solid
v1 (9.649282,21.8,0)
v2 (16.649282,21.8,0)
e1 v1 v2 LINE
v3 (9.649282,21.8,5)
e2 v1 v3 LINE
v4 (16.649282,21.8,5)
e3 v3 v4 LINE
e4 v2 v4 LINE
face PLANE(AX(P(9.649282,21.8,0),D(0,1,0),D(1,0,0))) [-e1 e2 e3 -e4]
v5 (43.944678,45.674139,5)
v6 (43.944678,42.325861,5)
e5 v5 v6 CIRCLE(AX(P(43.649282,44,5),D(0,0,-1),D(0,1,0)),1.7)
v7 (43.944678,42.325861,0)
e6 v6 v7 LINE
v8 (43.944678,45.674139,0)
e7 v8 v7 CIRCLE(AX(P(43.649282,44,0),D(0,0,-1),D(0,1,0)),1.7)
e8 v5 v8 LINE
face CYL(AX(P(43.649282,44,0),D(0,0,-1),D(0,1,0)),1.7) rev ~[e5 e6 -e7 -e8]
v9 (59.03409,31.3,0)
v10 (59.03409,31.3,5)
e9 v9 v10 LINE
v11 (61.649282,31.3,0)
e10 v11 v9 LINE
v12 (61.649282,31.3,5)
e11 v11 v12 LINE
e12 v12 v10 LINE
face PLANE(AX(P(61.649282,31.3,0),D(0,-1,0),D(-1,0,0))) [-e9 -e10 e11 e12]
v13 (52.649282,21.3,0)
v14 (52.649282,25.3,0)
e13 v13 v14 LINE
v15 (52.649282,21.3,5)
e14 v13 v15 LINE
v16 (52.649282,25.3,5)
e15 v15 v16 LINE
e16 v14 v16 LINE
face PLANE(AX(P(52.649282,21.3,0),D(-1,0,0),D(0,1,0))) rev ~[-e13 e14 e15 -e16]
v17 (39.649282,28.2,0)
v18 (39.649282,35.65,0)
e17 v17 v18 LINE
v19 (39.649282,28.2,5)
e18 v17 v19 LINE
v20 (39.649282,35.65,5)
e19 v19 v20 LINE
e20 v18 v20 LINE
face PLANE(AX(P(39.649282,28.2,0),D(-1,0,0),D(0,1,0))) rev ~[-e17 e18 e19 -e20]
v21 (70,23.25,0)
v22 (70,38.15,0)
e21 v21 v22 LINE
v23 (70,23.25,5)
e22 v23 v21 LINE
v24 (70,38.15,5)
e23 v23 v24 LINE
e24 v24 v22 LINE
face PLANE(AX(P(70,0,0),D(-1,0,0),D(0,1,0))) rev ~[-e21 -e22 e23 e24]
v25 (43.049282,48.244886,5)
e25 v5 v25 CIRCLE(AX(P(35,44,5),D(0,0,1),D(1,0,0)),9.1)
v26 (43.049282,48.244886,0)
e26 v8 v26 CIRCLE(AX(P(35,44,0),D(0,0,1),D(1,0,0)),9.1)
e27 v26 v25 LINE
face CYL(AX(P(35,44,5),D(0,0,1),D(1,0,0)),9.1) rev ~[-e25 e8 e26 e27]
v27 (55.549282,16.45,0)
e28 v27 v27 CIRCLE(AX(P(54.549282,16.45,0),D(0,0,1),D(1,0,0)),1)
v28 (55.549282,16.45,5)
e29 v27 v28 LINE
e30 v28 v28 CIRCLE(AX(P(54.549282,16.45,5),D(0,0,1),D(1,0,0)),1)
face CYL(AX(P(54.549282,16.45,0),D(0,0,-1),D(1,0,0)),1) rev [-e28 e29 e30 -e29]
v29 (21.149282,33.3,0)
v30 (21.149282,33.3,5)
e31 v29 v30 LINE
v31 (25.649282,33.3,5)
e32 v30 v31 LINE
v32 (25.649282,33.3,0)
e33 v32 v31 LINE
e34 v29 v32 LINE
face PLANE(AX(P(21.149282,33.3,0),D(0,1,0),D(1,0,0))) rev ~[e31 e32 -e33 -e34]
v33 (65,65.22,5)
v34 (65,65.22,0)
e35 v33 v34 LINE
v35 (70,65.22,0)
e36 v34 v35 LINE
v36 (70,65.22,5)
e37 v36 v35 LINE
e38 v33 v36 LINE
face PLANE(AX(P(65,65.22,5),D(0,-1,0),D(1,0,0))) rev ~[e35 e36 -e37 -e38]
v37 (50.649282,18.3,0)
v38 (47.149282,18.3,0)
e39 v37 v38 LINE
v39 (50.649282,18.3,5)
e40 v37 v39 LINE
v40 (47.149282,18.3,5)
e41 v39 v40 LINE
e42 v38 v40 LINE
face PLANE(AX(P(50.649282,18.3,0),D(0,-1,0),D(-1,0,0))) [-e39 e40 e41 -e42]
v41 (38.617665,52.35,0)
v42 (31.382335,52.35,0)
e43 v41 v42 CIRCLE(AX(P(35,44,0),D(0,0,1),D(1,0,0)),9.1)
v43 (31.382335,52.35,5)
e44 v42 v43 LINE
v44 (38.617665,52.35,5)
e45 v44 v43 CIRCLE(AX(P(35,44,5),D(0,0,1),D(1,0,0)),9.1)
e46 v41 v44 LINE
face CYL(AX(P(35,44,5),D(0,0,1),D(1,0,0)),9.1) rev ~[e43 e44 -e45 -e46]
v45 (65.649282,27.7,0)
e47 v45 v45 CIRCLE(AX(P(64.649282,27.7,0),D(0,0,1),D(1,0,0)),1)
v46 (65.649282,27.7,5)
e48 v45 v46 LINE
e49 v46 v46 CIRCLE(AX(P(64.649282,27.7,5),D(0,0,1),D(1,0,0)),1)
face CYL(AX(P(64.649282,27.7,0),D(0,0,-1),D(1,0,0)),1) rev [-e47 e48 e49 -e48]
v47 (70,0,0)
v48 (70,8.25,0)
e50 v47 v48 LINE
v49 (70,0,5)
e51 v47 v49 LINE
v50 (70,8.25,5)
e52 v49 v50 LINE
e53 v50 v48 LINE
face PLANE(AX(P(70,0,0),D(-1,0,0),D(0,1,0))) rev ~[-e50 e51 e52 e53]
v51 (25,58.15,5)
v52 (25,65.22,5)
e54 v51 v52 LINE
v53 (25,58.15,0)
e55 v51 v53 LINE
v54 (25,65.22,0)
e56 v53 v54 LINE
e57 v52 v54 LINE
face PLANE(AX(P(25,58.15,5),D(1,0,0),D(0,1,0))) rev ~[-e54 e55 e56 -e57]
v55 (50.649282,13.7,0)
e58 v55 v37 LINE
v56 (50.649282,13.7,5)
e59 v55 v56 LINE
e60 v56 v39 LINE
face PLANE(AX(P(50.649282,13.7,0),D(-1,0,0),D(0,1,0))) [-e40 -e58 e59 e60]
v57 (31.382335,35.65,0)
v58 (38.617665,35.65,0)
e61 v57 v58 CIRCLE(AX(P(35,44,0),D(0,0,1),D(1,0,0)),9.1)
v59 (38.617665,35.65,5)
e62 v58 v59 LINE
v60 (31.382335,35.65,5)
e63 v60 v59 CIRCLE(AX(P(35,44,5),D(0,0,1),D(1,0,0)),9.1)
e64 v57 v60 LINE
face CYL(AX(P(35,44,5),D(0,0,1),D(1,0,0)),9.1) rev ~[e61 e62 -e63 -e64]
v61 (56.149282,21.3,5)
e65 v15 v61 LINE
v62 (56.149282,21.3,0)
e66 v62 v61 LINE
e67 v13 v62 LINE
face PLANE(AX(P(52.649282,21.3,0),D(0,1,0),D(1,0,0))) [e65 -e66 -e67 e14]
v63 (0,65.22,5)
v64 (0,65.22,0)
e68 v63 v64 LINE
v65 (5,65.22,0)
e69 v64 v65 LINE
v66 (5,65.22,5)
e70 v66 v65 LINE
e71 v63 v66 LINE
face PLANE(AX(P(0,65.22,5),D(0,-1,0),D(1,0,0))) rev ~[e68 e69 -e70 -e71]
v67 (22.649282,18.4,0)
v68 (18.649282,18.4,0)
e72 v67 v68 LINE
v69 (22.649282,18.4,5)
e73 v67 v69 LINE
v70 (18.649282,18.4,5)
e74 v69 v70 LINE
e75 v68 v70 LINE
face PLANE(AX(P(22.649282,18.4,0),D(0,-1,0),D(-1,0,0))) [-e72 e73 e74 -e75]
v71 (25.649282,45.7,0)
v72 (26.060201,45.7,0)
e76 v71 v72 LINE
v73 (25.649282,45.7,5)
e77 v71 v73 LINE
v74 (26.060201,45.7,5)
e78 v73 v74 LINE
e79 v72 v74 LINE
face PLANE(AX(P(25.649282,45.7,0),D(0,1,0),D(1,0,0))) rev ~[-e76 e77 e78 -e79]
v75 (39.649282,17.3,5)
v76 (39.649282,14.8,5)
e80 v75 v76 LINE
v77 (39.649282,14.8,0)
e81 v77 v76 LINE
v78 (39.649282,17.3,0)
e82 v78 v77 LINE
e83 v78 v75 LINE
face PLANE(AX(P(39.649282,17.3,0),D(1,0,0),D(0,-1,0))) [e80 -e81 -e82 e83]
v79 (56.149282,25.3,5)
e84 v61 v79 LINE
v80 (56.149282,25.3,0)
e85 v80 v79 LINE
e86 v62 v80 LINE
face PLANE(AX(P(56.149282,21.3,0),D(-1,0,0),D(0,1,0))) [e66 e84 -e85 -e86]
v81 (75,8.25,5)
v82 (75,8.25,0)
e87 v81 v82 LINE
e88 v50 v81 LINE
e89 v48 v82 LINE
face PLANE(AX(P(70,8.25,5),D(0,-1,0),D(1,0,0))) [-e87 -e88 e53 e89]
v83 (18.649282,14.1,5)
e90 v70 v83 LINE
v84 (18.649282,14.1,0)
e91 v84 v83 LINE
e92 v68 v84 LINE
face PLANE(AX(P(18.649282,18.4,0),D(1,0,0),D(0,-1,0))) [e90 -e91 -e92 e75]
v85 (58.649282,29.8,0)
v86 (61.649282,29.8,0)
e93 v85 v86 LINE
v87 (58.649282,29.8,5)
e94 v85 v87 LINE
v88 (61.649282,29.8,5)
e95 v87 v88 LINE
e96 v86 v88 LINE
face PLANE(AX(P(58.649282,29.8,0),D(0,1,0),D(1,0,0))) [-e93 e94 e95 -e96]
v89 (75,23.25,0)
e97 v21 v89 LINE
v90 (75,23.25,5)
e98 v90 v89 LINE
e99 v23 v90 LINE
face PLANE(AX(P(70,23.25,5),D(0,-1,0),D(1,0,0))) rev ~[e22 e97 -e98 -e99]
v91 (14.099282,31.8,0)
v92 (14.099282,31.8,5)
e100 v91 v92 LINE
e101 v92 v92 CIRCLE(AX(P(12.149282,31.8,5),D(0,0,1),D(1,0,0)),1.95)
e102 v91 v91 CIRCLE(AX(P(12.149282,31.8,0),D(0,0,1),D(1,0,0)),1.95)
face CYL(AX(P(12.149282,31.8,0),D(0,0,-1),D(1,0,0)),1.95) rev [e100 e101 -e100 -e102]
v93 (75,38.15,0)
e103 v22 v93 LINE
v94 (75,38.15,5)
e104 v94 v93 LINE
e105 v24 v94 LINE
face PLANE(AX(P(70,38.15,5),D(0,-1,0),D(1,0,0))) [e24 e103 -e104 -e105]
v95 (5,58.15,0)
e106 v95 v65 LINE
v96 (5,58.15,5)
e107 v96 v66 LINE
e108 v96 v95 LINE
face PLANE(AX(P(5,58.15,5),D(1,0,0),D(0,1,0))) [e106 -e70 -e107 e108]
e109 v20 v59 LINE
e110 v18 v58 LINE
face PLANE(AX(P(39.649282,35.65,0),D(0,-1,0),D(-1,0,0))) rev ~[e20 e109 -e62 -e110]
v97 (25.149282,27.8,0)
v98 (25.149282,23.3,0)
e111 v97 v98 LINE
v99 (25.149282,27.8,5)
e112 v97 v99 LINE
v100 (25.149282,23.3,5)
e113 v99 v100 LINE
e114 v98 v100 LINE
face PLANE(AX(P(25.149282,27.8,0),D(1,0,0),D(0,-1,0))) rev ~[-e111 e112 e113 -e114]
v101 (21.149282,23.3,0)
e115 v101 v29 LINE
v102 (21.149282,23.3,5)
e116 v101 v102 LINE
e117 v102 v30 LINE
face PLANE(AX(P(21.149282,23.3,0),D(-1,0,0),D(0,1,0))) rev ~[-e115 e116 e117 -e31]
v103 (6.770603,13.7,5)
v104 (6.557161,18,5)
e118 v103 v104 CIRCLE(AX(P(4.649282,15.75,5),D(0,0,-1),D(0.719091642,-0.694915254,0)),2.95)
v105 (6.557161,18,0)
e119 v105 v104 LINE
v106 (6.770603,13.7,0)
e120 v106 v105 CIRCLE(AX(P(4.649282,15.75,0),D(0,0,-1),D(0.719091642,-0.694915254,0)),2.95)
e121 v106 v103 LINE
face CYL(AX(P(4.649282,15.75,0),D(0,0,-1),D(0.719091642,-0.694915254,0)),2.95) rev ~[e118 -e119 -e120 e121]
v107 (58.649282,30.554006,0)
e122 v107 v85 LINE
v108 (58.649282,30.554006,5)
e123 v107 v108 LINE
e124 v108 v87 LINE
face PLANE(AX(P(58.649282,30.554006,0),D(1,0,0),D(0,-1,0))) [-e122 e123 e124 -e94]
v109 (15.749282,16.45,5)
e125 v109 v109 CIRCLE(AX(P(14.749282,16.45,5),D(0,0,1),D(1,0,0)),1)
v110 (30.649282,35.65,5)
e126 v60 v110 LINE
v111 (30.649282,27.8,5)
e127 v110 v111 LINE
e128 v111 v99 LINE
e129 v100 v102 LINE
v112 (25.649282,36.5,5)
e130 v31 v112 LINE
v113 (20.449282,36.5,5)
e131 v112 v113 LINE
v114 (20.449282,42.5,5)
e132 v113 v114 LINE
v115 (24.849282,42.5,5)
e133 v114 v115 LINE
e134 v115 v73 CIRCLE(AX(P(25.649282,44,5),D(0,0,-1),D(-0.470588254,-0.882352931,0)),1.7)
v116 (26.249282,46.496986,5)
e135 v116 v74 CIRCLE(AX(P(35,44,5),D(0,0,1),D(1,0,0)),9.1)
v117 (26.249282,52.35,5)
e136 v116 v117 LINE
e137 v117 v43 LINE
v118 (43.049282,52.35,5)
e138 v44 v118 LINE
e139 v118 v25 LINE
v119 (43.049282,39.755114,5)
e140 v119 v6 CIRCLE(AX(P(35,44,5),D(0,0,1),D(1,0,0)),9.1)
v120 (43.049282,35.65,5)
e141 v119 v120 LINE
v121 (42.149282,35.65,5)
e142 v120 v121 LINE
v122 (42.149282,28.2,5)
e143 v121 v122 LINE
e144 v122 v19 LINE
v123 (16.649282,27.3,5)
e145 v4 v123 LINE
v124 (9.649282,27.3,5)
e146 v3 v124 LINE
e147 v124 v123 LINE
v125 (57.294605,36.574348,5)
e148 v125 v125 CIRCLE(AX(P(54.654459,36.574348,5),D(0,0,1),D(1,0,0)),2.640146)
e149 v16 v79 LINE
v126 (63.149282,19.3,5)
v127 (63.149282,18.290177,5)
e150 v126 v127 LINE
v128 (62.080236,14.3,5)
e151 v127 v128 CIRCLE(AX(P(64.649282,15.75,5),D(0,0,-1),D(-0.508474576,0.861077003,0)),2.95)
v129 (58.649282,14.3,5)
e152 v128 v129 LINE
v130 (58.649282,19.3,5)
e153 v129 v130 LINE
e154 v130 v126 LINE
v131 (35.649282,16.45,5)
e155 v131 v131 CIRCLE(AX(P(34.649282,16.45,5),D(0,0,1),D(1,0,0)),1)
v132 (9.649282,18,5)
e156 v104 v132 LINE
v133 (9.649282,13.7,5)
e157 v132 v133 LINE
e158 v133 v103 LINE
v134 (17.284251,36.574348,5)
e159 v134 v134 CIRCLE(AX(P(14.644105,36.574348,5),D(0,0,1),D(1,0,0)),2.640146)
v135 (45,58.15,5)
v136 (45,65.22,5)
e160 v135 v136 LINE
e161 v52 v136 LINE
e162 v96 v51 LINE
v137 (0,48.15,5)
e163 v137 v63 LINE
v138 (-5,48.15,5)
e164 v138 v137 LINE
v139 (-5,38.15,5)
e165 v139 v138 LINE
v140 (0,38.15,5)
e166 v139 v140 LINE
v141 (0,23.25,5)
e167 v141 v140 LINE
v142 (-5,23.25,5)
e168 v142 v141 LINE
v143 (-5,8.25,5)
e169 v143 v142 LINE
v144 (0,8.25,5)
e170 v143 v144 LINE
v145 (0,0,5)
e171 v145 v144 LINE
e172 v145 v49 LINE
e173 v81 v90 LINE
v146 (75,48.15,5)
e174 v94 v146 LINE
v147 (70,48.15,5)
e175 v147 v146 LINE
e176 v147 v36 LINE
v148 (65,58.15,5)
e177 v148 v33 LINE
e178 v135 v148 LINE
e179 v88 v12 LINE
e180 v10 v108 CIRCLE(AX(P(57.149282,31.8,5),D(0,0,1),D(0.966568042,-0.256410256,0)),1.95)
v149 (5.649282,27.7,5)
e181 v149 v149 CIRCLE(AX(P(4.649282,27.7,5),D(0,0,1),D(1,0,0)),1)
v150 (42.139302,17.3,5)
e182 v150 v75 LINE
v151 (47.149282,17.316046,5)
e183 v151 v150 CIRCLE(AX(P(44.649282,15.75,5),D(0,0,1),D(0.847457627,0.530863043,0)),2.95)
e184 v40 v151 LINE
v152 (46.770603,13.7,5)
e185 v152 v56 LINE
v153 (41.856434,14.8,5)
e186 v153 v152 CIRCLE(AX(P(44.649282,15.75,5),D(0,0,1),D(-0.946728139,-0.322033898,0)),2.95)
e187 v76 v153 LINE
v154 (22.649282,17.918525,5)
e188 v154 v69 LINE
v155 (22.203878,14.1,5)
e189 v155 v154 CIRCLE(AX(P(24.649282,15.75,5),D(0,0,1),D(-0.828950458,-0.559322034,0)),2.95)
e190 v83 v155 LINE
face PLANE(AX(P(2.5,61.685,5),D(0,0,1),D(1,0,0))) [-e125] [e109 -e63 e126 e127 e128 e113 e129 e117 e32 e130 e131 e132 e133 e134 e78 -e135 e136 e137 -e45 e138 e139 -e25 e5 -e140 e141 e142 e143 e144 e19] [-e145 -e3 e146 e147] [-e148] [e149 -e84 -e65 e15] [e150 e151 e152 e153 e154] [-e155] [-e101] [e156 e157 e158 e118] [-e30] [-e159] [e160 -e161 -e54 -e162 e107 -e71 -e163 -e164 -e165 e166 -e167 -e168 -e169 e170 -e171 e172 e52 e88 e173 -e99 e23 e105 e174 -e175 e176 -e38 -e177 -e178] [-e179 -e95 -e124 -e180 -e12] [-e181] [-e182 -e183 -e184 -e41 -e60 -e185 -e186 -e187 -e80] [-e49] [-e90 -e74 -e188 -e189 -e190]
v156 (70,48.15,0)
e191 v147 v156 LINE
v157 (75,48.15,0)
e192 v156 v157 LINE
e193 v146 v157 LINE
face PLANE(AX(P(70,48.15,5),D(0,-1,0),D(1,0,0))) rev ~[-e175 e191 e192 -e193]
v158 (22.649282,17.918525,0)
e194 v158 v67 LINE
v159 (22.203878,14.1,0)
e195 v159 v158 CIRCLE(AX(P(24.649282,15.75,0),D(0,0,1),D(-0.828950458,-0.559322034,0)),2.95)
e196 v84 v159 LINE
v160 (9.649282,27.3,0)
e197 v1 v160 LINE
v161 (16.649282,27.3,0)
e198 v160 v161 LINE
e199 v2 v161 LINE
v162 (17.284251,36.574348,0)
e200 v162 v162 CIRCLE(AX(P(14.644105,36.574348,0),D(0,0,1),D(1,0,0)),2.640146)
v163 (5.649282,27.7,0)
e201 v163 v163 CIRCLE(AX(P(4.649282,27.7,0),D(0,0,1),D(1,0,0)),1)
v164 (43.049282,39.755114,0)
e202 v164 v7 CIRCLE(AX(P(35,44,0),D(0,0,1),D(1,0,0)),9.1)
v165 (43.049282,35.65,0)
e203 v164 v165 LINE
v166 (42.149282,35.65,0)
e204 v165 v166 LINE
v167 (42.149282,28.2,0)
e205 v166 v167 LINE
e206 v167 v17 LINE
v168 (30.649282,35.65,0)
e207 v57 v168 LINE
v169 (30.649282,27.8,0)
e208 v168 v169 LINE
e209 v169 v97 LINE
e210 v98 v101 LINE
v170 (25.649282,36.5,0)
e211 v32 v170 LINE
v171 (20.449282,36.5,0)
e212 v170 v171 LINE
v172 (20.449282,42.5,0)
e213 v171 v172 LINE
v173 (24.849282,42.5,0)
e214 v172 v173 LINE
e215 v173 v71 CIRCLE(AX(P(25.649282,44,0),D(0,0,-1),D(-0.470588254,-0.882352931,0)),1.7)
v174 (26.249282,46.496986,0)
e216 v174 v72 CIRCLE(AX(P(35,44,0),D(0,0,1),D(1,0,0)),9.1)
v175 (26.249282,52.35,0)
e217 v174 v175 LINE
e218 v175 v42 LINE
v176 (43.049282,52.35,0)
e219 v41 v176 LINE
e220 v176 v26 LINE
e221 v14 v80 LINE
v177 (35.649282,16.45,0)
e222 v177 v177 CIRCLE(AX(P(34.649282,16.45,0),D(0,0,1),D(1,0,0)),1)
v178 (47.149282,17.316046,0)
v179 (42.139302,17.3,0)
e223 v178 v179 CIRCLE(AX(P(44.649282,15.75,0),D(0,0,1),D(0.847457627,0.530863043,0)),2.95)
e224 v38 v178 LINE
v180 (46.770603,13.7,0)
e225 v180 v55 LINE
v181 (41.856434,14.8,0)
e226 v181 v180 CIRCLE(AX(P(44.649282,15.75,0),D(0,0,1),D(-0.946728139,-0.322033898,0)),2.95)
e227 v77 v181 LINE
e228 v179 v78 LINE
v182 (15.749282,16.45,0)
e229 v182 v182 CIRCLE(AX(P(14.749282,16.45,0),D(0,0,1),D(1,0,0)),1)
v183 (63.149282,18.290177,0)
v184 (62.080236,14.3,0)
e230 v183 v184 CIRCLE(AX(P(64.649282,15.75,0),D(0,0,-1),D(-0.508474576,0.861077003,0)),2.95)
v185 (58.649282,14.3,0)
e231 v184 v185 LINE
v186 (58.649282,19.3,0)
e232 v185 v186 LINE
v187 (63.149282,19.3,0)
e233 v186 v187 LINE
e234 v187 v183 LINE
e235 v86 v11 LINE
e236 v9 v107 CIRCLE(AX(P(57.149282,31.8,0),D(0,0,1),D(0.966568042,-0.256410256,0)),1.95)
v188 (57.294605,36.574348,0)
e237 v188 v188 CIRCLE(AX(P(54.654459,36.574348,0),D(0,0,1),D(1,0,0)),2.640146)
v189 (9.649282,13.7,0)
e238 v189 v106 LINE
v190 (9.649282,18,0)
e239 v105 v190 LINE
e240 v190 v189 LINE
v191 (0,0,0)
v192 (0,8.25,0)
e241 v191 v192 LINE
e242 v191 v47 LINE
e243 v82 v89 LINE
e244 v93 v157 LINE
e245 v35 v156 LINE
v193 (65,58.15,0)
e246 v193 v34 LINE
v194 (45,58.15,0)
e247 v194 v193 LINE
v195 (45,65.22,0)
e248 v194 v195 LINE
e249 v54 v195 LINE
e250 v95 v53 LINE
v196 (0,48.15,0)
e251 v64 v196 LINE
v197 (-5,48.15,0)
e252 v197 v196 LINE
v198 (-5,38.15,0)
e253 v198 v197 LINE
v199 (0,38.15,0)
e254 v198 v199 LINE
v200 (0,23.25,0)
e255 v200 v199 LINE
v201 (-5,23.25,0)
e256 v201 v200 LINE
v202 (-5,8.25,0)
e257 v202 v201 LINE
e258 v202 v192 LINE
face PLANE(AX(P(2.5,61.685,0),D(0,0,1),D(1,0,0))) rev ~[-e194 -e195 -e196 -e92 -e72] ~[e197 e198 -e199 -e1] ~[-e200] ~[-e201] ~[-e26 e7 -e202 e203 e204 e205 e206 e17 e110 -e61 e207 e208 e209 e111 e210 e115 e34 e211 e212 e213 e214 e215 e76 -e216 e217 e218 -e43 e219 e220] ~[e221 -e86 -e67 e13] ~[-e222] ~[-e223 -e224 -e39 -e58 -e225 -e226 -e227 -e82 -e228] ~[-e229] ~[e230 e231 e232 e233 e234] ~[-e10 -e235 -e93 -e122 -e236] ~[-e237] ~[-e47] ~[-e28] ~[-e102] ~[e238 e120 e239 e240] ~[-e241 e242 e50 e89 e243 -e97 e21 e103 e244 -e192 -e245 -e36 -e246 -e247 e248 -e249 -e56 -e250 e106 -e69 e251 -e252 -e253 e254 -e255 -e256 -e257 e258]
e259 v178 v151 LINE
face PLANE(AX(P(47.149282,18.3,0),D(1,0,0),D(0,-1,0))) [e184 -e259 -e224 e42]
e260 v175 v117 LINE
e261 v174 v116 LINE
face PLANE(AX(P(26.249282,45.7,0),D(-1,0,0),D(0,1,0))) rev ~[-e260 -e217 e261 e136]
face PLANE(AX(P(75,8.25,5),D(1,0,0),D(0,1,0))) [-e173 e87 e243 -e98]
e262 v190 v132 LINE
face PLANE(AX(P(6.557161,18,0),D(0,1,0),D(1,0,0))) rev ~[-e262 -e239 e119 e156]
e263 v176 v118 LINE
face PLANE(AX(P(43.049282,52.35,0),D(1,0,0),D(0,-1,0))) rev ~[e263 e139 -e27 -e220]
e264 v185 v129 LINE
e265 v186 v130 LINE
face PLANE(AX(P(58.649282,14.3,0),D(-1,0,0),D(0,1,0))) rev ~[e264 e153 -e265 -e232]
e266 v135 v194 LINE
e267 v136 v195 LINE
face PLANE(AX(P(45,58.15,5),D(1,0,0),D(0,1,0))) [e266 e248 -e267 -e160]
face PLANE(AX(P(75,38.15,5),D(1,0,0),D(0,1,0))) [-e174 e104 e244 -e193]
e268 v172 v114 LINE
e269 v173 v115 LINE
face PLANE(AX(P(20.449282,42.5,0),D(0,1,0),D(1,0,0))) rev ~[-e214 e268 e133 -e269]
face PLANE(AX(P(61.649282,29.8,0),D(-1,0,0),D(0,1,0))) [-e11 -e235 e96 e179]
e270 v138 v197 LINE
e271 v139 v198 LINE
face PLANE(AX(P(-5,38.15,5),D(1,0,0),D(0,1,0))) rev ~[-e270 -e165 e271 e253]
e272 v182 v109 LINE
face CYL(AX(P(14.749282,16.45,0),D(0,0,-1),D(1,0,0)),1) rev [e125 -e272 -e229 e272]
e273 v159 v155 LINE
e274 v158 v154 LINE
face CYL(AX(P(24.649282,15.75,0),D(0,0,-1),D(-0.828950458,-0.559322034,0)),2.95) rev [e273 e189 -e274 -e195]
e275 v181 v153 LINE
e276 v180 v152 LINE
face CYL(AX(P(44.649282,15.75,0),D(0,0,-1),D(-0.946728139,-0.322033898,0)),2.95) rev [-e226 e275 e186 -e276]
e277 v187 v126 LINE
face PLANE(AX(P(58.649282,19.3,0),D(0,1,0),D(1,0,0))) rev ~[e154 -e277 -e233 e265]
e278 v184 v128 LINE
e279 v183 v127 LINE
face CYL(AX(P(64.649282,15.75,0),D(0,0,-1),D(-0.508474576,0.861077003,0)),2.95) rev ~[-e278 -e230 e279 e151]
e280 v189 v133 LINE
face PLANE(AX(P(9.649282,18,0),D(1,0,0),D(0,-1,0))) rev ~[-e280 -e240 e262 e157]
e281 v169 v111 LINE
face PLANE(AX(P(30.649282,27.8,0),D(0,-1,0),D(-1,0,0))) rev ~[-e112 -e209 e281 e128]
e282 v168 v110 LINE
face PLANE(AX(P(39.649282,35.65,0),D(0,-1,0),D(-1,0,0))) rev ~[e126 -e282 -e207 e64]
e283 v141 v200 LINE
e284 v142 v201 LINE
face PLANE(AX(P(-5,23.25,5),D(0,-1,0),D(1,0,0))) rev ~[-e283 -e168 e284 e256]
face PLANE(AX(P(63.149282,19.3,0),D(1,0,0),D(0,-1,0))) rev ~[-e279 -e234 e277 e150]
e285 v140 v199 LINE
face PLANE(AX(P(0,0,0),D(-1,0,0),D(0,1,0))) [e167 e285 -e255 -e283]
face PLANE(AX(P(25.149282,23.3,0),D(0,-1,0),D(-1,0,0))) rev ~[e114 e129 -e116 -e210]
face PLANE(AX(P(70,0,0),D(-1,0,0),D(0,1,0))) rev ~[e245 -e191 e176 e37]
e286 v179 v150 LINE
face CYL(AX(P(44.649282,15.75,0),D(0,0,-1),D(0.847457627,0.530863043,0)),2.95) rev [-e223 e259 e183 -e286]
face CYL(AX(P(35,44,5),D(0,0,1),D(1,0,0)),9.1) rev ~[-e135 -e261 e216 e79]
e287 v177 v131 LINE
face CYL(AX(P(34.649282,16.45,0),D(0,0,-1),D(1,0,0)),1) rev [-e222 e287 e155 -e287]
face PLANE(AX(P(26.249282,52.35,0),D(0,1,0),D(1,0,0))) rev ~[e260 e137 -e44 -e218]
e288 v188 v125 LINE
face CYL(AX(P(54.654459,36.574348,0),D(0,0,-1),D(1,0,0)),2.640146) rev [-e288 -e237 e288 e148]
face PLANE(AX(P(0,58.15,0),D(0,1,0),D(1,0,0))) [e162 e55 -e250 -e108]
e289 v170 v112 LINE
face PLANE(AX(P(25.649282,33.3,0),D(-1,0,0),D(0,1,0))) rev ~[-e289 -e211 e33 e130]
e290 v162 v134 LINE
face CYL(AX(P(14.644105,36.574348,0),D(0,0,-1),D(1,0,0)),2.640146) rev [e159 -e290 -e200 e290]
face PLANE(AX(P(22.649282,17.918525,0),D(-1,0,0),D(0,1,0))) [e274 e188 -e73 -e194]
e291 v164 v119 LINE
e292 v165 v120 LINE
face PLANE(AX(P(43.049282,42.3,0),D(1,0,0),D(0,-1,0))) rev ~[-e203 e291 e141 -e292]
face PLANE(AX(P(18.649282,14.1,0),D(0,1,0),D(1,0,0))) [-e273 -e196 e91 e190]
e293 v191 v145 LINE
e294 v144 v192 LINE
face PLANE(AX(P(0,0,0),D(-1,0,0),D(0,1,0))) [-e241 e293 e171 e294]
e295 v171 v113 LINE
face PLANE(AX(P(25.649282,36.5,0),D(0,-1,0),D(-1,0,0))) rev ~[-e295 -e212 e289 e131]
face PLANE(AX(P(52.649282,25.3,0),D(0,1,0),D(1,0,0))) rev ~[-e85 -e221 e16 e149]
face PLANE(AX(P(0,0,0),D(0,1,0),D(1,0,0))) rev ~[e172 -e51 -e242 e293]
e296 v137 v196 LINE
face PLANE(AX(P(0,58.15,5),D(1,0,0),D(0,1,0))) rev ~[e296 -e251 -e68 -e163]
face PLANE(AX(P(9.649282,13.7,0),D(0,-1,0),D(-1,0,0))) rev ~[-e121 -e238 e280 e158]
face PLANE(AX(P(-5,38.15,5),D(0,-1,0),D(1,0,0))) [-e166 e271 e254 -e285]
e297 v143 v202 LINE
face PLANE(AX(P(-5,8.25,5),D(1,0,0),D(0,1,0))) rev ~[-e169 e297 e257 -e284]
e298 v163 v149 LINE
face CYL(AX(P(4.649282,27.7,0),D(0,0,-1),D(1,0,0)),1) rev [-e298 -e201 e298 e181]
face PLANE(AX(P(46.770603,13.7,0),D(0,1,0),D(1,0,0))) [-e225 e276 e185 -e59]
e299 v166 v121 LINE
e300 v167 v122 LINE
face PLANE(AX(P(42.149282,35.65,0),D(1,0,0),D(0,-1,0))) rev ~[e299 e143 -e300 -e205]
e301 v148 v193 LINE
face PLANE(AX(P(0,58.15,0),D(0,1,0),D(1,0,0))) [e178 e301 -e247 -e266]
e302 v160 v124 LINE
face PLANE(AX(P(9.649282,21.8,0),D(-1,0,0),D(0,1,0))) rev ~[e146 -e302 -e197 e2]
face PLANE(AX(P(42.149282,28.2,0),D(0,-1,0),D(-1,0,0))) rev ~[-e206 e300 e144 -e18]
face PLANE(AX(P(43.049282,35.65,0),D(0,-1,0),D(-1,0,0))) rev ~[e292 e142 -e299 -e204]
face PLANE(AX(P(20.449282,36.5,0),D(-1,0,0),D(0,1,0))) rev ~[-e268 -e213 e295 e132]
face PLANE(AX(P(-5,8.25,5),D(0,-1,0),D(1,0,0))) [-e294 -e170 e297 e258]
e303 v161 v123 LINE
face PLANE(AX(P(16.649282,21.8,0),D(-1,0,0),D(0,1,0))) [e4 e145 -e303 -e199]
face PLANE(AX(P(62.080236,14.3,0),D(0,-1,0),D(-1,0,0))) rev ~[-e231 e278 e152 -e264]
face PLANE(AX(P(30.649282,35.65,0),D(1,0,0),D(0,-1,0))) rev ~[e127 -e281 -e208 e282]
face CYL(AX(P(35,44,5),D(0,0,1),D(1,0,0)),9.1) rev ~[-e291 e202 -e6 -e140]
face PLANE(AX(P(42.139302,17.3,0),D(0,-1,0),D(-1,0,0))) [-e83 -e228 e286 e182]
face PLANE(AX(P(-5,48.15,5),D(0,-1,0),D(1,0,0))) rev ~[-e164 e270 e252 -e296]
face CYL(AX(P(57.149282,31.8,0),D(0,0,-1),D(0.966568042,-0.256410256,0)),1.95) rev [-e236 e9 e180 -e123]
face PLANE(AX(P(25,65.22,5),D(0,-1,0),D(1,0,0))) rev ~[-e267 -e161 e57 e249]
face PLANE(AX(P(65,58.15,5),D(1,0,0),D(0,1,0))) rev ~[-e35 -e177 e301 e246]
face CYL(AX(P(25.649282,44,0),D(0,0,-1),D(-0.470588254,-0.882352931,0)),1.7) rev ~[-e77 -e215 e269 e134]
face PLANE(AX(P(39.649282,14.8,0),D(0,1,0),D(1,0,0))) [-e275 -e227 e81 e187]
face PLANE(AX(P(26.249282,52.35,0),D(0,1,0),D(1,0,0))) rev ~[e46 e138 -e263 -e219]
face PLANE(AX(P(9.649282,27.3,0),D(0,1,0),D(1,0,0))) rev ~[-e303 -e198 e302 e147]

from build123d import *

# Parameters (mm, degrees)
ESQUISSE1_W        = 70
ESQUISSE1_H        = 58.15
ESQUISSE1_R        = 1.95
ESQUISSE1_R_2      = 1
ESQUISSE1_R_3      = 2.640146182
ESQUISSE1_W_2      = 7
ESQUISSE1_H_2      = 5.5
ESQUISSE1_W_3      = 3.5
ESQUISSE1_H_3      = 4
BOSS_EXTRU_1_DEPTH = 5
ESQUISSE2_R        = 9.1
CR_NEAUX_DEPTH     = 5
ESQUISSE3_W        = 20
ESQUISSE3_H        = 7.07
ESQUISSE3_W_2      = 5
ESQUISSE3_H_2      = 15
ESQUISSE3_H_3      = 10
CR_NEAUX_2_DEPTH   = 5


with BuildPart() as part:
    # Esquisse1 → Boss.-Extru.1 (new body)
    with BuildSketch(Plane.XY):
        with Locations((35, 29.075)):
            Rectangle(ESQUISSE1_W, ESQUISSE1_H)
        with Locations((12.149282213, 31.8)):
            Circle(ESQUISSE1_R, mode=Mode.SUBTRACT)
        with Locations((4.649282213, 27.7)):
            Circle(ESQUISSE1_R_2, mode=Mode.SUBTRACT)
        with Locations((14.749282213, 16.45)):
            Circle(ESQUISSE1_R_2, mode=Mode.SUBTRACT)
        with Locations((34.649282213, 16.45)):
            Circle(ESQUISSE1_R_2, mode=Mode.SUBTRACT)
        with Locations((54.549282213, 16.45)):
            Circle(ESQUISSE1_R_2, mode=Mode.SUBTRACT)
        with Locations((64.649282213, 27.7)):
            Circle(ESQUISSE1_R_2, mode=Mode.SUBTRACT)
        with Locations((54.654459148, 36.574348259)):
            Circle(ESQUISSE1_R_3, mode=Mode.SUBTRACT)
        with Locations((14.644105278, 36.574348259)):
            Circle(ESQUISSE1_R_3, mode=Mode.SUBTRACT)
        with BuildLine():
            Line((26.249282245, 52.35), (43.049282245, 52.35))
            Line((43.049282245, 52.35), (43.049282245, 45.7))
            Line((43.049282245, 45.7), (43.649282213, 45.7))
            ThreePointArc((43.649282213, 45.7), (45.349282213, 44), (43.649282213, 42.3))
            Line((43.649282213, 42.3), (43.049282218, 42.3))
            Line((43.049282218, 42.3), (43.049282218, 35.65))
            Line((43.049282218, 35.65), (42.149282213, 35.65))
            Line((42.149282213, 35.65), (42.149282213, 28.2))
            Line((42.149282213, 28.2), (39.649282213, 28.2))
            Line((39.649282213, 28.2), (39.649282213, 35.65))
            Line((39.649282213, 35.65), (30.649282213, 35.65))
            Line((30.649282213, 35.65), (30.649282213, 27.8))
            Line((30.649282213, 27.8), (25.149282213, 27.8))
            Line((25.149282213, 27.8), (25.149282213, 23.3))
            Line((25.149282213, 23.3), (21.149282213, 23.3))
            Line((21.149282213, 23.3), (21.149282213, 33.3))
            Line((21.149282213, 33.3), (25.649282213, 33.3))
            Line((25.649282213, 33.3), (25.649282213, 36.5))
            Line((25.649282213, 36.5), (20.449282213, 36.5))
            Line((20.449282213, 36.5), (20.449282213, 42.5))
            Line((20.449282213, 42.5), (24.849282213, 42.5))
            ThreePointArc((24.849282213, 42.5), (24.000039995, 44.412310574), (25.64928225, 45.7))
            Line((25.64928225, 45.7), (26.249282245, 45.7))
            Line((26.249282245, 45.7), (26.249282245, 52.35))
        make_face(mode=Mode.SUBTRACT)
        with Locations((13.149282213, 24.55)):
            Rectangle(ESQUISSE1_W_2, ESQUISSE1_H_2, mode=Mode.SUBTRACT)
        with BuildLine():
            Line((6.557160615, 18), (9.649282213, 18))
            Line((9.649282213, 18), (9.649282213, 13.7))
            Line((9.649282213, 13.7), (6.770602556, 13.7))
            ThreePointArc((6.770602556, 13.7), (1.702909759, 15.603748964), (6.557160615, 18))
        make_face(mode=Mode.SUBTRACT)
        with BuildLine():
            Line((22.649282213, 17.918524844), (22.649282213, 18.4))
            Line((22.649282213, 18.4), (18.649282213, 18.4))
            Line((18.649282213, 18.4), (18.649282213, 14.1))
            Line((18.649282213, 14.1), (22.20387836, 14.1))
            ThreePointArc((22.20387836, 14.1), (27.579416484, 15.40822061), (22.649282213, 17.918524844))
        make_face(mode=Mode.SUBTRACT)
        with BuildLine():
            Line((42.139302133, 17.3), (39.649282213, 17.3))
            Line((39.649282213, 17.3), (39.649282213, 14.8))
            Line((39.649282213, 14.8), (41.856434204, 14.8))
            ThreePointArc((41.856434204, 14.8), (44.004893082, 12.87123939), (46.770602556, 13.7))
            Line((46.770602556, 13.7), (50.649282213, 13.7))
            Line((50.649282213, 13.7), (50.649282213, 18.3))
            Line((50.649282213, 18.3), (47.149282213, 18.3))
            Line((47.149282213, 18.3), (47.149282213, 17.316045976))
            ThreePointArc((47.149282213, 17.316045976), (44.639833994, 18.69998487), (42.139302133, 17.3))
        make_face(mode=Mode.SUBTRACT)
        with Locations((54.399282213, 23.3)):
            Rectangle(ESQUISSE1_W_3, ESQUISSE1_H_3, mode=Mode.SUBTRACT)
        with BuildLine():
            Line((58.649282213, 30.554006421), (58.649282213, 29.8))
            Line((58.649282213, 29.8), (61.649282213, 29.8))
            Line((61.649282213, 29.8), (61.649282213, 31.3))
            Line((61.649282213, 31.3), (59.034089895, 31.3))
            ThreePointArc((59.034089895, 31.3), (55.416262488, 32.69394778), (58.649282213, 30.554006421))
        make_face(mode=Mode.SUBTRACT)
        with BuildLine():
            Line((63.149282213, 19.3), (63.149282213, 18.290177159))
            ThreePointArc((63.149282213, 18.290177159), (67.498784507, 14.986562594), (62.080235697, 14.3))
            Line((62.080235697, 14.3), (58.649282213, 14.3))
            Line((58.649282213, 14.3), (58.649282213, 19.3))
            Line((58.649282213, 19.3), (63.149282213, 19.3))
        make_face(mode=Mode.SUBTRACT)
    extrude(amount=BOSS_EXTRU_1_DEPTH)

    # Esquisse2 → Cr_neaux (cut)
    with BuildSketch(Plane.XY.offset(5)):
        with Locations((35, 44)):
            Circle(ESQUISSE2_R)
    extrude(amount=-CR_NEAUX_DEPTH, mode=Mode.SUBTRACT)

    # Esquisse3 → Cr_neaux 2 (add)
    with BuildSketch(Plane.XY.offset(5)):
        with Locations((35, 61.685)):
            Rectangle(ESQUISSE3_W, ESQUISSE3_H)
        with Locations((2.5, 61.685)):
            Rectangle(ESQUISSE3_W_2, ESQUISSE3_H)
        with Locations((-2.5, 15.75)):
            Rectangle(ESQUISSE3_W_2, ESQUISSE3_H_2)
        with Locations((-2.5, 43.15)):
            Rectangle(ESQUISSE3_W_2, ESQUISSE3_H_3)
        with Locations((72.5, 43.15)):
            Rectangle(ESQUISSE3_W_2, ESQUISSE3_H_3)
        with Locations((72.5, 15.75)):
            Rectangle(ESQUISSE3_W_2, ESQUISSE3_H_2)
        with Locations((67.5, 61.685)):
            Rectangle(ESQUISSE3_W_2, ESQUISSE3_H)
    extrude(amount=-CR_NEAUX_2_DEPTH)


solid = part.part
